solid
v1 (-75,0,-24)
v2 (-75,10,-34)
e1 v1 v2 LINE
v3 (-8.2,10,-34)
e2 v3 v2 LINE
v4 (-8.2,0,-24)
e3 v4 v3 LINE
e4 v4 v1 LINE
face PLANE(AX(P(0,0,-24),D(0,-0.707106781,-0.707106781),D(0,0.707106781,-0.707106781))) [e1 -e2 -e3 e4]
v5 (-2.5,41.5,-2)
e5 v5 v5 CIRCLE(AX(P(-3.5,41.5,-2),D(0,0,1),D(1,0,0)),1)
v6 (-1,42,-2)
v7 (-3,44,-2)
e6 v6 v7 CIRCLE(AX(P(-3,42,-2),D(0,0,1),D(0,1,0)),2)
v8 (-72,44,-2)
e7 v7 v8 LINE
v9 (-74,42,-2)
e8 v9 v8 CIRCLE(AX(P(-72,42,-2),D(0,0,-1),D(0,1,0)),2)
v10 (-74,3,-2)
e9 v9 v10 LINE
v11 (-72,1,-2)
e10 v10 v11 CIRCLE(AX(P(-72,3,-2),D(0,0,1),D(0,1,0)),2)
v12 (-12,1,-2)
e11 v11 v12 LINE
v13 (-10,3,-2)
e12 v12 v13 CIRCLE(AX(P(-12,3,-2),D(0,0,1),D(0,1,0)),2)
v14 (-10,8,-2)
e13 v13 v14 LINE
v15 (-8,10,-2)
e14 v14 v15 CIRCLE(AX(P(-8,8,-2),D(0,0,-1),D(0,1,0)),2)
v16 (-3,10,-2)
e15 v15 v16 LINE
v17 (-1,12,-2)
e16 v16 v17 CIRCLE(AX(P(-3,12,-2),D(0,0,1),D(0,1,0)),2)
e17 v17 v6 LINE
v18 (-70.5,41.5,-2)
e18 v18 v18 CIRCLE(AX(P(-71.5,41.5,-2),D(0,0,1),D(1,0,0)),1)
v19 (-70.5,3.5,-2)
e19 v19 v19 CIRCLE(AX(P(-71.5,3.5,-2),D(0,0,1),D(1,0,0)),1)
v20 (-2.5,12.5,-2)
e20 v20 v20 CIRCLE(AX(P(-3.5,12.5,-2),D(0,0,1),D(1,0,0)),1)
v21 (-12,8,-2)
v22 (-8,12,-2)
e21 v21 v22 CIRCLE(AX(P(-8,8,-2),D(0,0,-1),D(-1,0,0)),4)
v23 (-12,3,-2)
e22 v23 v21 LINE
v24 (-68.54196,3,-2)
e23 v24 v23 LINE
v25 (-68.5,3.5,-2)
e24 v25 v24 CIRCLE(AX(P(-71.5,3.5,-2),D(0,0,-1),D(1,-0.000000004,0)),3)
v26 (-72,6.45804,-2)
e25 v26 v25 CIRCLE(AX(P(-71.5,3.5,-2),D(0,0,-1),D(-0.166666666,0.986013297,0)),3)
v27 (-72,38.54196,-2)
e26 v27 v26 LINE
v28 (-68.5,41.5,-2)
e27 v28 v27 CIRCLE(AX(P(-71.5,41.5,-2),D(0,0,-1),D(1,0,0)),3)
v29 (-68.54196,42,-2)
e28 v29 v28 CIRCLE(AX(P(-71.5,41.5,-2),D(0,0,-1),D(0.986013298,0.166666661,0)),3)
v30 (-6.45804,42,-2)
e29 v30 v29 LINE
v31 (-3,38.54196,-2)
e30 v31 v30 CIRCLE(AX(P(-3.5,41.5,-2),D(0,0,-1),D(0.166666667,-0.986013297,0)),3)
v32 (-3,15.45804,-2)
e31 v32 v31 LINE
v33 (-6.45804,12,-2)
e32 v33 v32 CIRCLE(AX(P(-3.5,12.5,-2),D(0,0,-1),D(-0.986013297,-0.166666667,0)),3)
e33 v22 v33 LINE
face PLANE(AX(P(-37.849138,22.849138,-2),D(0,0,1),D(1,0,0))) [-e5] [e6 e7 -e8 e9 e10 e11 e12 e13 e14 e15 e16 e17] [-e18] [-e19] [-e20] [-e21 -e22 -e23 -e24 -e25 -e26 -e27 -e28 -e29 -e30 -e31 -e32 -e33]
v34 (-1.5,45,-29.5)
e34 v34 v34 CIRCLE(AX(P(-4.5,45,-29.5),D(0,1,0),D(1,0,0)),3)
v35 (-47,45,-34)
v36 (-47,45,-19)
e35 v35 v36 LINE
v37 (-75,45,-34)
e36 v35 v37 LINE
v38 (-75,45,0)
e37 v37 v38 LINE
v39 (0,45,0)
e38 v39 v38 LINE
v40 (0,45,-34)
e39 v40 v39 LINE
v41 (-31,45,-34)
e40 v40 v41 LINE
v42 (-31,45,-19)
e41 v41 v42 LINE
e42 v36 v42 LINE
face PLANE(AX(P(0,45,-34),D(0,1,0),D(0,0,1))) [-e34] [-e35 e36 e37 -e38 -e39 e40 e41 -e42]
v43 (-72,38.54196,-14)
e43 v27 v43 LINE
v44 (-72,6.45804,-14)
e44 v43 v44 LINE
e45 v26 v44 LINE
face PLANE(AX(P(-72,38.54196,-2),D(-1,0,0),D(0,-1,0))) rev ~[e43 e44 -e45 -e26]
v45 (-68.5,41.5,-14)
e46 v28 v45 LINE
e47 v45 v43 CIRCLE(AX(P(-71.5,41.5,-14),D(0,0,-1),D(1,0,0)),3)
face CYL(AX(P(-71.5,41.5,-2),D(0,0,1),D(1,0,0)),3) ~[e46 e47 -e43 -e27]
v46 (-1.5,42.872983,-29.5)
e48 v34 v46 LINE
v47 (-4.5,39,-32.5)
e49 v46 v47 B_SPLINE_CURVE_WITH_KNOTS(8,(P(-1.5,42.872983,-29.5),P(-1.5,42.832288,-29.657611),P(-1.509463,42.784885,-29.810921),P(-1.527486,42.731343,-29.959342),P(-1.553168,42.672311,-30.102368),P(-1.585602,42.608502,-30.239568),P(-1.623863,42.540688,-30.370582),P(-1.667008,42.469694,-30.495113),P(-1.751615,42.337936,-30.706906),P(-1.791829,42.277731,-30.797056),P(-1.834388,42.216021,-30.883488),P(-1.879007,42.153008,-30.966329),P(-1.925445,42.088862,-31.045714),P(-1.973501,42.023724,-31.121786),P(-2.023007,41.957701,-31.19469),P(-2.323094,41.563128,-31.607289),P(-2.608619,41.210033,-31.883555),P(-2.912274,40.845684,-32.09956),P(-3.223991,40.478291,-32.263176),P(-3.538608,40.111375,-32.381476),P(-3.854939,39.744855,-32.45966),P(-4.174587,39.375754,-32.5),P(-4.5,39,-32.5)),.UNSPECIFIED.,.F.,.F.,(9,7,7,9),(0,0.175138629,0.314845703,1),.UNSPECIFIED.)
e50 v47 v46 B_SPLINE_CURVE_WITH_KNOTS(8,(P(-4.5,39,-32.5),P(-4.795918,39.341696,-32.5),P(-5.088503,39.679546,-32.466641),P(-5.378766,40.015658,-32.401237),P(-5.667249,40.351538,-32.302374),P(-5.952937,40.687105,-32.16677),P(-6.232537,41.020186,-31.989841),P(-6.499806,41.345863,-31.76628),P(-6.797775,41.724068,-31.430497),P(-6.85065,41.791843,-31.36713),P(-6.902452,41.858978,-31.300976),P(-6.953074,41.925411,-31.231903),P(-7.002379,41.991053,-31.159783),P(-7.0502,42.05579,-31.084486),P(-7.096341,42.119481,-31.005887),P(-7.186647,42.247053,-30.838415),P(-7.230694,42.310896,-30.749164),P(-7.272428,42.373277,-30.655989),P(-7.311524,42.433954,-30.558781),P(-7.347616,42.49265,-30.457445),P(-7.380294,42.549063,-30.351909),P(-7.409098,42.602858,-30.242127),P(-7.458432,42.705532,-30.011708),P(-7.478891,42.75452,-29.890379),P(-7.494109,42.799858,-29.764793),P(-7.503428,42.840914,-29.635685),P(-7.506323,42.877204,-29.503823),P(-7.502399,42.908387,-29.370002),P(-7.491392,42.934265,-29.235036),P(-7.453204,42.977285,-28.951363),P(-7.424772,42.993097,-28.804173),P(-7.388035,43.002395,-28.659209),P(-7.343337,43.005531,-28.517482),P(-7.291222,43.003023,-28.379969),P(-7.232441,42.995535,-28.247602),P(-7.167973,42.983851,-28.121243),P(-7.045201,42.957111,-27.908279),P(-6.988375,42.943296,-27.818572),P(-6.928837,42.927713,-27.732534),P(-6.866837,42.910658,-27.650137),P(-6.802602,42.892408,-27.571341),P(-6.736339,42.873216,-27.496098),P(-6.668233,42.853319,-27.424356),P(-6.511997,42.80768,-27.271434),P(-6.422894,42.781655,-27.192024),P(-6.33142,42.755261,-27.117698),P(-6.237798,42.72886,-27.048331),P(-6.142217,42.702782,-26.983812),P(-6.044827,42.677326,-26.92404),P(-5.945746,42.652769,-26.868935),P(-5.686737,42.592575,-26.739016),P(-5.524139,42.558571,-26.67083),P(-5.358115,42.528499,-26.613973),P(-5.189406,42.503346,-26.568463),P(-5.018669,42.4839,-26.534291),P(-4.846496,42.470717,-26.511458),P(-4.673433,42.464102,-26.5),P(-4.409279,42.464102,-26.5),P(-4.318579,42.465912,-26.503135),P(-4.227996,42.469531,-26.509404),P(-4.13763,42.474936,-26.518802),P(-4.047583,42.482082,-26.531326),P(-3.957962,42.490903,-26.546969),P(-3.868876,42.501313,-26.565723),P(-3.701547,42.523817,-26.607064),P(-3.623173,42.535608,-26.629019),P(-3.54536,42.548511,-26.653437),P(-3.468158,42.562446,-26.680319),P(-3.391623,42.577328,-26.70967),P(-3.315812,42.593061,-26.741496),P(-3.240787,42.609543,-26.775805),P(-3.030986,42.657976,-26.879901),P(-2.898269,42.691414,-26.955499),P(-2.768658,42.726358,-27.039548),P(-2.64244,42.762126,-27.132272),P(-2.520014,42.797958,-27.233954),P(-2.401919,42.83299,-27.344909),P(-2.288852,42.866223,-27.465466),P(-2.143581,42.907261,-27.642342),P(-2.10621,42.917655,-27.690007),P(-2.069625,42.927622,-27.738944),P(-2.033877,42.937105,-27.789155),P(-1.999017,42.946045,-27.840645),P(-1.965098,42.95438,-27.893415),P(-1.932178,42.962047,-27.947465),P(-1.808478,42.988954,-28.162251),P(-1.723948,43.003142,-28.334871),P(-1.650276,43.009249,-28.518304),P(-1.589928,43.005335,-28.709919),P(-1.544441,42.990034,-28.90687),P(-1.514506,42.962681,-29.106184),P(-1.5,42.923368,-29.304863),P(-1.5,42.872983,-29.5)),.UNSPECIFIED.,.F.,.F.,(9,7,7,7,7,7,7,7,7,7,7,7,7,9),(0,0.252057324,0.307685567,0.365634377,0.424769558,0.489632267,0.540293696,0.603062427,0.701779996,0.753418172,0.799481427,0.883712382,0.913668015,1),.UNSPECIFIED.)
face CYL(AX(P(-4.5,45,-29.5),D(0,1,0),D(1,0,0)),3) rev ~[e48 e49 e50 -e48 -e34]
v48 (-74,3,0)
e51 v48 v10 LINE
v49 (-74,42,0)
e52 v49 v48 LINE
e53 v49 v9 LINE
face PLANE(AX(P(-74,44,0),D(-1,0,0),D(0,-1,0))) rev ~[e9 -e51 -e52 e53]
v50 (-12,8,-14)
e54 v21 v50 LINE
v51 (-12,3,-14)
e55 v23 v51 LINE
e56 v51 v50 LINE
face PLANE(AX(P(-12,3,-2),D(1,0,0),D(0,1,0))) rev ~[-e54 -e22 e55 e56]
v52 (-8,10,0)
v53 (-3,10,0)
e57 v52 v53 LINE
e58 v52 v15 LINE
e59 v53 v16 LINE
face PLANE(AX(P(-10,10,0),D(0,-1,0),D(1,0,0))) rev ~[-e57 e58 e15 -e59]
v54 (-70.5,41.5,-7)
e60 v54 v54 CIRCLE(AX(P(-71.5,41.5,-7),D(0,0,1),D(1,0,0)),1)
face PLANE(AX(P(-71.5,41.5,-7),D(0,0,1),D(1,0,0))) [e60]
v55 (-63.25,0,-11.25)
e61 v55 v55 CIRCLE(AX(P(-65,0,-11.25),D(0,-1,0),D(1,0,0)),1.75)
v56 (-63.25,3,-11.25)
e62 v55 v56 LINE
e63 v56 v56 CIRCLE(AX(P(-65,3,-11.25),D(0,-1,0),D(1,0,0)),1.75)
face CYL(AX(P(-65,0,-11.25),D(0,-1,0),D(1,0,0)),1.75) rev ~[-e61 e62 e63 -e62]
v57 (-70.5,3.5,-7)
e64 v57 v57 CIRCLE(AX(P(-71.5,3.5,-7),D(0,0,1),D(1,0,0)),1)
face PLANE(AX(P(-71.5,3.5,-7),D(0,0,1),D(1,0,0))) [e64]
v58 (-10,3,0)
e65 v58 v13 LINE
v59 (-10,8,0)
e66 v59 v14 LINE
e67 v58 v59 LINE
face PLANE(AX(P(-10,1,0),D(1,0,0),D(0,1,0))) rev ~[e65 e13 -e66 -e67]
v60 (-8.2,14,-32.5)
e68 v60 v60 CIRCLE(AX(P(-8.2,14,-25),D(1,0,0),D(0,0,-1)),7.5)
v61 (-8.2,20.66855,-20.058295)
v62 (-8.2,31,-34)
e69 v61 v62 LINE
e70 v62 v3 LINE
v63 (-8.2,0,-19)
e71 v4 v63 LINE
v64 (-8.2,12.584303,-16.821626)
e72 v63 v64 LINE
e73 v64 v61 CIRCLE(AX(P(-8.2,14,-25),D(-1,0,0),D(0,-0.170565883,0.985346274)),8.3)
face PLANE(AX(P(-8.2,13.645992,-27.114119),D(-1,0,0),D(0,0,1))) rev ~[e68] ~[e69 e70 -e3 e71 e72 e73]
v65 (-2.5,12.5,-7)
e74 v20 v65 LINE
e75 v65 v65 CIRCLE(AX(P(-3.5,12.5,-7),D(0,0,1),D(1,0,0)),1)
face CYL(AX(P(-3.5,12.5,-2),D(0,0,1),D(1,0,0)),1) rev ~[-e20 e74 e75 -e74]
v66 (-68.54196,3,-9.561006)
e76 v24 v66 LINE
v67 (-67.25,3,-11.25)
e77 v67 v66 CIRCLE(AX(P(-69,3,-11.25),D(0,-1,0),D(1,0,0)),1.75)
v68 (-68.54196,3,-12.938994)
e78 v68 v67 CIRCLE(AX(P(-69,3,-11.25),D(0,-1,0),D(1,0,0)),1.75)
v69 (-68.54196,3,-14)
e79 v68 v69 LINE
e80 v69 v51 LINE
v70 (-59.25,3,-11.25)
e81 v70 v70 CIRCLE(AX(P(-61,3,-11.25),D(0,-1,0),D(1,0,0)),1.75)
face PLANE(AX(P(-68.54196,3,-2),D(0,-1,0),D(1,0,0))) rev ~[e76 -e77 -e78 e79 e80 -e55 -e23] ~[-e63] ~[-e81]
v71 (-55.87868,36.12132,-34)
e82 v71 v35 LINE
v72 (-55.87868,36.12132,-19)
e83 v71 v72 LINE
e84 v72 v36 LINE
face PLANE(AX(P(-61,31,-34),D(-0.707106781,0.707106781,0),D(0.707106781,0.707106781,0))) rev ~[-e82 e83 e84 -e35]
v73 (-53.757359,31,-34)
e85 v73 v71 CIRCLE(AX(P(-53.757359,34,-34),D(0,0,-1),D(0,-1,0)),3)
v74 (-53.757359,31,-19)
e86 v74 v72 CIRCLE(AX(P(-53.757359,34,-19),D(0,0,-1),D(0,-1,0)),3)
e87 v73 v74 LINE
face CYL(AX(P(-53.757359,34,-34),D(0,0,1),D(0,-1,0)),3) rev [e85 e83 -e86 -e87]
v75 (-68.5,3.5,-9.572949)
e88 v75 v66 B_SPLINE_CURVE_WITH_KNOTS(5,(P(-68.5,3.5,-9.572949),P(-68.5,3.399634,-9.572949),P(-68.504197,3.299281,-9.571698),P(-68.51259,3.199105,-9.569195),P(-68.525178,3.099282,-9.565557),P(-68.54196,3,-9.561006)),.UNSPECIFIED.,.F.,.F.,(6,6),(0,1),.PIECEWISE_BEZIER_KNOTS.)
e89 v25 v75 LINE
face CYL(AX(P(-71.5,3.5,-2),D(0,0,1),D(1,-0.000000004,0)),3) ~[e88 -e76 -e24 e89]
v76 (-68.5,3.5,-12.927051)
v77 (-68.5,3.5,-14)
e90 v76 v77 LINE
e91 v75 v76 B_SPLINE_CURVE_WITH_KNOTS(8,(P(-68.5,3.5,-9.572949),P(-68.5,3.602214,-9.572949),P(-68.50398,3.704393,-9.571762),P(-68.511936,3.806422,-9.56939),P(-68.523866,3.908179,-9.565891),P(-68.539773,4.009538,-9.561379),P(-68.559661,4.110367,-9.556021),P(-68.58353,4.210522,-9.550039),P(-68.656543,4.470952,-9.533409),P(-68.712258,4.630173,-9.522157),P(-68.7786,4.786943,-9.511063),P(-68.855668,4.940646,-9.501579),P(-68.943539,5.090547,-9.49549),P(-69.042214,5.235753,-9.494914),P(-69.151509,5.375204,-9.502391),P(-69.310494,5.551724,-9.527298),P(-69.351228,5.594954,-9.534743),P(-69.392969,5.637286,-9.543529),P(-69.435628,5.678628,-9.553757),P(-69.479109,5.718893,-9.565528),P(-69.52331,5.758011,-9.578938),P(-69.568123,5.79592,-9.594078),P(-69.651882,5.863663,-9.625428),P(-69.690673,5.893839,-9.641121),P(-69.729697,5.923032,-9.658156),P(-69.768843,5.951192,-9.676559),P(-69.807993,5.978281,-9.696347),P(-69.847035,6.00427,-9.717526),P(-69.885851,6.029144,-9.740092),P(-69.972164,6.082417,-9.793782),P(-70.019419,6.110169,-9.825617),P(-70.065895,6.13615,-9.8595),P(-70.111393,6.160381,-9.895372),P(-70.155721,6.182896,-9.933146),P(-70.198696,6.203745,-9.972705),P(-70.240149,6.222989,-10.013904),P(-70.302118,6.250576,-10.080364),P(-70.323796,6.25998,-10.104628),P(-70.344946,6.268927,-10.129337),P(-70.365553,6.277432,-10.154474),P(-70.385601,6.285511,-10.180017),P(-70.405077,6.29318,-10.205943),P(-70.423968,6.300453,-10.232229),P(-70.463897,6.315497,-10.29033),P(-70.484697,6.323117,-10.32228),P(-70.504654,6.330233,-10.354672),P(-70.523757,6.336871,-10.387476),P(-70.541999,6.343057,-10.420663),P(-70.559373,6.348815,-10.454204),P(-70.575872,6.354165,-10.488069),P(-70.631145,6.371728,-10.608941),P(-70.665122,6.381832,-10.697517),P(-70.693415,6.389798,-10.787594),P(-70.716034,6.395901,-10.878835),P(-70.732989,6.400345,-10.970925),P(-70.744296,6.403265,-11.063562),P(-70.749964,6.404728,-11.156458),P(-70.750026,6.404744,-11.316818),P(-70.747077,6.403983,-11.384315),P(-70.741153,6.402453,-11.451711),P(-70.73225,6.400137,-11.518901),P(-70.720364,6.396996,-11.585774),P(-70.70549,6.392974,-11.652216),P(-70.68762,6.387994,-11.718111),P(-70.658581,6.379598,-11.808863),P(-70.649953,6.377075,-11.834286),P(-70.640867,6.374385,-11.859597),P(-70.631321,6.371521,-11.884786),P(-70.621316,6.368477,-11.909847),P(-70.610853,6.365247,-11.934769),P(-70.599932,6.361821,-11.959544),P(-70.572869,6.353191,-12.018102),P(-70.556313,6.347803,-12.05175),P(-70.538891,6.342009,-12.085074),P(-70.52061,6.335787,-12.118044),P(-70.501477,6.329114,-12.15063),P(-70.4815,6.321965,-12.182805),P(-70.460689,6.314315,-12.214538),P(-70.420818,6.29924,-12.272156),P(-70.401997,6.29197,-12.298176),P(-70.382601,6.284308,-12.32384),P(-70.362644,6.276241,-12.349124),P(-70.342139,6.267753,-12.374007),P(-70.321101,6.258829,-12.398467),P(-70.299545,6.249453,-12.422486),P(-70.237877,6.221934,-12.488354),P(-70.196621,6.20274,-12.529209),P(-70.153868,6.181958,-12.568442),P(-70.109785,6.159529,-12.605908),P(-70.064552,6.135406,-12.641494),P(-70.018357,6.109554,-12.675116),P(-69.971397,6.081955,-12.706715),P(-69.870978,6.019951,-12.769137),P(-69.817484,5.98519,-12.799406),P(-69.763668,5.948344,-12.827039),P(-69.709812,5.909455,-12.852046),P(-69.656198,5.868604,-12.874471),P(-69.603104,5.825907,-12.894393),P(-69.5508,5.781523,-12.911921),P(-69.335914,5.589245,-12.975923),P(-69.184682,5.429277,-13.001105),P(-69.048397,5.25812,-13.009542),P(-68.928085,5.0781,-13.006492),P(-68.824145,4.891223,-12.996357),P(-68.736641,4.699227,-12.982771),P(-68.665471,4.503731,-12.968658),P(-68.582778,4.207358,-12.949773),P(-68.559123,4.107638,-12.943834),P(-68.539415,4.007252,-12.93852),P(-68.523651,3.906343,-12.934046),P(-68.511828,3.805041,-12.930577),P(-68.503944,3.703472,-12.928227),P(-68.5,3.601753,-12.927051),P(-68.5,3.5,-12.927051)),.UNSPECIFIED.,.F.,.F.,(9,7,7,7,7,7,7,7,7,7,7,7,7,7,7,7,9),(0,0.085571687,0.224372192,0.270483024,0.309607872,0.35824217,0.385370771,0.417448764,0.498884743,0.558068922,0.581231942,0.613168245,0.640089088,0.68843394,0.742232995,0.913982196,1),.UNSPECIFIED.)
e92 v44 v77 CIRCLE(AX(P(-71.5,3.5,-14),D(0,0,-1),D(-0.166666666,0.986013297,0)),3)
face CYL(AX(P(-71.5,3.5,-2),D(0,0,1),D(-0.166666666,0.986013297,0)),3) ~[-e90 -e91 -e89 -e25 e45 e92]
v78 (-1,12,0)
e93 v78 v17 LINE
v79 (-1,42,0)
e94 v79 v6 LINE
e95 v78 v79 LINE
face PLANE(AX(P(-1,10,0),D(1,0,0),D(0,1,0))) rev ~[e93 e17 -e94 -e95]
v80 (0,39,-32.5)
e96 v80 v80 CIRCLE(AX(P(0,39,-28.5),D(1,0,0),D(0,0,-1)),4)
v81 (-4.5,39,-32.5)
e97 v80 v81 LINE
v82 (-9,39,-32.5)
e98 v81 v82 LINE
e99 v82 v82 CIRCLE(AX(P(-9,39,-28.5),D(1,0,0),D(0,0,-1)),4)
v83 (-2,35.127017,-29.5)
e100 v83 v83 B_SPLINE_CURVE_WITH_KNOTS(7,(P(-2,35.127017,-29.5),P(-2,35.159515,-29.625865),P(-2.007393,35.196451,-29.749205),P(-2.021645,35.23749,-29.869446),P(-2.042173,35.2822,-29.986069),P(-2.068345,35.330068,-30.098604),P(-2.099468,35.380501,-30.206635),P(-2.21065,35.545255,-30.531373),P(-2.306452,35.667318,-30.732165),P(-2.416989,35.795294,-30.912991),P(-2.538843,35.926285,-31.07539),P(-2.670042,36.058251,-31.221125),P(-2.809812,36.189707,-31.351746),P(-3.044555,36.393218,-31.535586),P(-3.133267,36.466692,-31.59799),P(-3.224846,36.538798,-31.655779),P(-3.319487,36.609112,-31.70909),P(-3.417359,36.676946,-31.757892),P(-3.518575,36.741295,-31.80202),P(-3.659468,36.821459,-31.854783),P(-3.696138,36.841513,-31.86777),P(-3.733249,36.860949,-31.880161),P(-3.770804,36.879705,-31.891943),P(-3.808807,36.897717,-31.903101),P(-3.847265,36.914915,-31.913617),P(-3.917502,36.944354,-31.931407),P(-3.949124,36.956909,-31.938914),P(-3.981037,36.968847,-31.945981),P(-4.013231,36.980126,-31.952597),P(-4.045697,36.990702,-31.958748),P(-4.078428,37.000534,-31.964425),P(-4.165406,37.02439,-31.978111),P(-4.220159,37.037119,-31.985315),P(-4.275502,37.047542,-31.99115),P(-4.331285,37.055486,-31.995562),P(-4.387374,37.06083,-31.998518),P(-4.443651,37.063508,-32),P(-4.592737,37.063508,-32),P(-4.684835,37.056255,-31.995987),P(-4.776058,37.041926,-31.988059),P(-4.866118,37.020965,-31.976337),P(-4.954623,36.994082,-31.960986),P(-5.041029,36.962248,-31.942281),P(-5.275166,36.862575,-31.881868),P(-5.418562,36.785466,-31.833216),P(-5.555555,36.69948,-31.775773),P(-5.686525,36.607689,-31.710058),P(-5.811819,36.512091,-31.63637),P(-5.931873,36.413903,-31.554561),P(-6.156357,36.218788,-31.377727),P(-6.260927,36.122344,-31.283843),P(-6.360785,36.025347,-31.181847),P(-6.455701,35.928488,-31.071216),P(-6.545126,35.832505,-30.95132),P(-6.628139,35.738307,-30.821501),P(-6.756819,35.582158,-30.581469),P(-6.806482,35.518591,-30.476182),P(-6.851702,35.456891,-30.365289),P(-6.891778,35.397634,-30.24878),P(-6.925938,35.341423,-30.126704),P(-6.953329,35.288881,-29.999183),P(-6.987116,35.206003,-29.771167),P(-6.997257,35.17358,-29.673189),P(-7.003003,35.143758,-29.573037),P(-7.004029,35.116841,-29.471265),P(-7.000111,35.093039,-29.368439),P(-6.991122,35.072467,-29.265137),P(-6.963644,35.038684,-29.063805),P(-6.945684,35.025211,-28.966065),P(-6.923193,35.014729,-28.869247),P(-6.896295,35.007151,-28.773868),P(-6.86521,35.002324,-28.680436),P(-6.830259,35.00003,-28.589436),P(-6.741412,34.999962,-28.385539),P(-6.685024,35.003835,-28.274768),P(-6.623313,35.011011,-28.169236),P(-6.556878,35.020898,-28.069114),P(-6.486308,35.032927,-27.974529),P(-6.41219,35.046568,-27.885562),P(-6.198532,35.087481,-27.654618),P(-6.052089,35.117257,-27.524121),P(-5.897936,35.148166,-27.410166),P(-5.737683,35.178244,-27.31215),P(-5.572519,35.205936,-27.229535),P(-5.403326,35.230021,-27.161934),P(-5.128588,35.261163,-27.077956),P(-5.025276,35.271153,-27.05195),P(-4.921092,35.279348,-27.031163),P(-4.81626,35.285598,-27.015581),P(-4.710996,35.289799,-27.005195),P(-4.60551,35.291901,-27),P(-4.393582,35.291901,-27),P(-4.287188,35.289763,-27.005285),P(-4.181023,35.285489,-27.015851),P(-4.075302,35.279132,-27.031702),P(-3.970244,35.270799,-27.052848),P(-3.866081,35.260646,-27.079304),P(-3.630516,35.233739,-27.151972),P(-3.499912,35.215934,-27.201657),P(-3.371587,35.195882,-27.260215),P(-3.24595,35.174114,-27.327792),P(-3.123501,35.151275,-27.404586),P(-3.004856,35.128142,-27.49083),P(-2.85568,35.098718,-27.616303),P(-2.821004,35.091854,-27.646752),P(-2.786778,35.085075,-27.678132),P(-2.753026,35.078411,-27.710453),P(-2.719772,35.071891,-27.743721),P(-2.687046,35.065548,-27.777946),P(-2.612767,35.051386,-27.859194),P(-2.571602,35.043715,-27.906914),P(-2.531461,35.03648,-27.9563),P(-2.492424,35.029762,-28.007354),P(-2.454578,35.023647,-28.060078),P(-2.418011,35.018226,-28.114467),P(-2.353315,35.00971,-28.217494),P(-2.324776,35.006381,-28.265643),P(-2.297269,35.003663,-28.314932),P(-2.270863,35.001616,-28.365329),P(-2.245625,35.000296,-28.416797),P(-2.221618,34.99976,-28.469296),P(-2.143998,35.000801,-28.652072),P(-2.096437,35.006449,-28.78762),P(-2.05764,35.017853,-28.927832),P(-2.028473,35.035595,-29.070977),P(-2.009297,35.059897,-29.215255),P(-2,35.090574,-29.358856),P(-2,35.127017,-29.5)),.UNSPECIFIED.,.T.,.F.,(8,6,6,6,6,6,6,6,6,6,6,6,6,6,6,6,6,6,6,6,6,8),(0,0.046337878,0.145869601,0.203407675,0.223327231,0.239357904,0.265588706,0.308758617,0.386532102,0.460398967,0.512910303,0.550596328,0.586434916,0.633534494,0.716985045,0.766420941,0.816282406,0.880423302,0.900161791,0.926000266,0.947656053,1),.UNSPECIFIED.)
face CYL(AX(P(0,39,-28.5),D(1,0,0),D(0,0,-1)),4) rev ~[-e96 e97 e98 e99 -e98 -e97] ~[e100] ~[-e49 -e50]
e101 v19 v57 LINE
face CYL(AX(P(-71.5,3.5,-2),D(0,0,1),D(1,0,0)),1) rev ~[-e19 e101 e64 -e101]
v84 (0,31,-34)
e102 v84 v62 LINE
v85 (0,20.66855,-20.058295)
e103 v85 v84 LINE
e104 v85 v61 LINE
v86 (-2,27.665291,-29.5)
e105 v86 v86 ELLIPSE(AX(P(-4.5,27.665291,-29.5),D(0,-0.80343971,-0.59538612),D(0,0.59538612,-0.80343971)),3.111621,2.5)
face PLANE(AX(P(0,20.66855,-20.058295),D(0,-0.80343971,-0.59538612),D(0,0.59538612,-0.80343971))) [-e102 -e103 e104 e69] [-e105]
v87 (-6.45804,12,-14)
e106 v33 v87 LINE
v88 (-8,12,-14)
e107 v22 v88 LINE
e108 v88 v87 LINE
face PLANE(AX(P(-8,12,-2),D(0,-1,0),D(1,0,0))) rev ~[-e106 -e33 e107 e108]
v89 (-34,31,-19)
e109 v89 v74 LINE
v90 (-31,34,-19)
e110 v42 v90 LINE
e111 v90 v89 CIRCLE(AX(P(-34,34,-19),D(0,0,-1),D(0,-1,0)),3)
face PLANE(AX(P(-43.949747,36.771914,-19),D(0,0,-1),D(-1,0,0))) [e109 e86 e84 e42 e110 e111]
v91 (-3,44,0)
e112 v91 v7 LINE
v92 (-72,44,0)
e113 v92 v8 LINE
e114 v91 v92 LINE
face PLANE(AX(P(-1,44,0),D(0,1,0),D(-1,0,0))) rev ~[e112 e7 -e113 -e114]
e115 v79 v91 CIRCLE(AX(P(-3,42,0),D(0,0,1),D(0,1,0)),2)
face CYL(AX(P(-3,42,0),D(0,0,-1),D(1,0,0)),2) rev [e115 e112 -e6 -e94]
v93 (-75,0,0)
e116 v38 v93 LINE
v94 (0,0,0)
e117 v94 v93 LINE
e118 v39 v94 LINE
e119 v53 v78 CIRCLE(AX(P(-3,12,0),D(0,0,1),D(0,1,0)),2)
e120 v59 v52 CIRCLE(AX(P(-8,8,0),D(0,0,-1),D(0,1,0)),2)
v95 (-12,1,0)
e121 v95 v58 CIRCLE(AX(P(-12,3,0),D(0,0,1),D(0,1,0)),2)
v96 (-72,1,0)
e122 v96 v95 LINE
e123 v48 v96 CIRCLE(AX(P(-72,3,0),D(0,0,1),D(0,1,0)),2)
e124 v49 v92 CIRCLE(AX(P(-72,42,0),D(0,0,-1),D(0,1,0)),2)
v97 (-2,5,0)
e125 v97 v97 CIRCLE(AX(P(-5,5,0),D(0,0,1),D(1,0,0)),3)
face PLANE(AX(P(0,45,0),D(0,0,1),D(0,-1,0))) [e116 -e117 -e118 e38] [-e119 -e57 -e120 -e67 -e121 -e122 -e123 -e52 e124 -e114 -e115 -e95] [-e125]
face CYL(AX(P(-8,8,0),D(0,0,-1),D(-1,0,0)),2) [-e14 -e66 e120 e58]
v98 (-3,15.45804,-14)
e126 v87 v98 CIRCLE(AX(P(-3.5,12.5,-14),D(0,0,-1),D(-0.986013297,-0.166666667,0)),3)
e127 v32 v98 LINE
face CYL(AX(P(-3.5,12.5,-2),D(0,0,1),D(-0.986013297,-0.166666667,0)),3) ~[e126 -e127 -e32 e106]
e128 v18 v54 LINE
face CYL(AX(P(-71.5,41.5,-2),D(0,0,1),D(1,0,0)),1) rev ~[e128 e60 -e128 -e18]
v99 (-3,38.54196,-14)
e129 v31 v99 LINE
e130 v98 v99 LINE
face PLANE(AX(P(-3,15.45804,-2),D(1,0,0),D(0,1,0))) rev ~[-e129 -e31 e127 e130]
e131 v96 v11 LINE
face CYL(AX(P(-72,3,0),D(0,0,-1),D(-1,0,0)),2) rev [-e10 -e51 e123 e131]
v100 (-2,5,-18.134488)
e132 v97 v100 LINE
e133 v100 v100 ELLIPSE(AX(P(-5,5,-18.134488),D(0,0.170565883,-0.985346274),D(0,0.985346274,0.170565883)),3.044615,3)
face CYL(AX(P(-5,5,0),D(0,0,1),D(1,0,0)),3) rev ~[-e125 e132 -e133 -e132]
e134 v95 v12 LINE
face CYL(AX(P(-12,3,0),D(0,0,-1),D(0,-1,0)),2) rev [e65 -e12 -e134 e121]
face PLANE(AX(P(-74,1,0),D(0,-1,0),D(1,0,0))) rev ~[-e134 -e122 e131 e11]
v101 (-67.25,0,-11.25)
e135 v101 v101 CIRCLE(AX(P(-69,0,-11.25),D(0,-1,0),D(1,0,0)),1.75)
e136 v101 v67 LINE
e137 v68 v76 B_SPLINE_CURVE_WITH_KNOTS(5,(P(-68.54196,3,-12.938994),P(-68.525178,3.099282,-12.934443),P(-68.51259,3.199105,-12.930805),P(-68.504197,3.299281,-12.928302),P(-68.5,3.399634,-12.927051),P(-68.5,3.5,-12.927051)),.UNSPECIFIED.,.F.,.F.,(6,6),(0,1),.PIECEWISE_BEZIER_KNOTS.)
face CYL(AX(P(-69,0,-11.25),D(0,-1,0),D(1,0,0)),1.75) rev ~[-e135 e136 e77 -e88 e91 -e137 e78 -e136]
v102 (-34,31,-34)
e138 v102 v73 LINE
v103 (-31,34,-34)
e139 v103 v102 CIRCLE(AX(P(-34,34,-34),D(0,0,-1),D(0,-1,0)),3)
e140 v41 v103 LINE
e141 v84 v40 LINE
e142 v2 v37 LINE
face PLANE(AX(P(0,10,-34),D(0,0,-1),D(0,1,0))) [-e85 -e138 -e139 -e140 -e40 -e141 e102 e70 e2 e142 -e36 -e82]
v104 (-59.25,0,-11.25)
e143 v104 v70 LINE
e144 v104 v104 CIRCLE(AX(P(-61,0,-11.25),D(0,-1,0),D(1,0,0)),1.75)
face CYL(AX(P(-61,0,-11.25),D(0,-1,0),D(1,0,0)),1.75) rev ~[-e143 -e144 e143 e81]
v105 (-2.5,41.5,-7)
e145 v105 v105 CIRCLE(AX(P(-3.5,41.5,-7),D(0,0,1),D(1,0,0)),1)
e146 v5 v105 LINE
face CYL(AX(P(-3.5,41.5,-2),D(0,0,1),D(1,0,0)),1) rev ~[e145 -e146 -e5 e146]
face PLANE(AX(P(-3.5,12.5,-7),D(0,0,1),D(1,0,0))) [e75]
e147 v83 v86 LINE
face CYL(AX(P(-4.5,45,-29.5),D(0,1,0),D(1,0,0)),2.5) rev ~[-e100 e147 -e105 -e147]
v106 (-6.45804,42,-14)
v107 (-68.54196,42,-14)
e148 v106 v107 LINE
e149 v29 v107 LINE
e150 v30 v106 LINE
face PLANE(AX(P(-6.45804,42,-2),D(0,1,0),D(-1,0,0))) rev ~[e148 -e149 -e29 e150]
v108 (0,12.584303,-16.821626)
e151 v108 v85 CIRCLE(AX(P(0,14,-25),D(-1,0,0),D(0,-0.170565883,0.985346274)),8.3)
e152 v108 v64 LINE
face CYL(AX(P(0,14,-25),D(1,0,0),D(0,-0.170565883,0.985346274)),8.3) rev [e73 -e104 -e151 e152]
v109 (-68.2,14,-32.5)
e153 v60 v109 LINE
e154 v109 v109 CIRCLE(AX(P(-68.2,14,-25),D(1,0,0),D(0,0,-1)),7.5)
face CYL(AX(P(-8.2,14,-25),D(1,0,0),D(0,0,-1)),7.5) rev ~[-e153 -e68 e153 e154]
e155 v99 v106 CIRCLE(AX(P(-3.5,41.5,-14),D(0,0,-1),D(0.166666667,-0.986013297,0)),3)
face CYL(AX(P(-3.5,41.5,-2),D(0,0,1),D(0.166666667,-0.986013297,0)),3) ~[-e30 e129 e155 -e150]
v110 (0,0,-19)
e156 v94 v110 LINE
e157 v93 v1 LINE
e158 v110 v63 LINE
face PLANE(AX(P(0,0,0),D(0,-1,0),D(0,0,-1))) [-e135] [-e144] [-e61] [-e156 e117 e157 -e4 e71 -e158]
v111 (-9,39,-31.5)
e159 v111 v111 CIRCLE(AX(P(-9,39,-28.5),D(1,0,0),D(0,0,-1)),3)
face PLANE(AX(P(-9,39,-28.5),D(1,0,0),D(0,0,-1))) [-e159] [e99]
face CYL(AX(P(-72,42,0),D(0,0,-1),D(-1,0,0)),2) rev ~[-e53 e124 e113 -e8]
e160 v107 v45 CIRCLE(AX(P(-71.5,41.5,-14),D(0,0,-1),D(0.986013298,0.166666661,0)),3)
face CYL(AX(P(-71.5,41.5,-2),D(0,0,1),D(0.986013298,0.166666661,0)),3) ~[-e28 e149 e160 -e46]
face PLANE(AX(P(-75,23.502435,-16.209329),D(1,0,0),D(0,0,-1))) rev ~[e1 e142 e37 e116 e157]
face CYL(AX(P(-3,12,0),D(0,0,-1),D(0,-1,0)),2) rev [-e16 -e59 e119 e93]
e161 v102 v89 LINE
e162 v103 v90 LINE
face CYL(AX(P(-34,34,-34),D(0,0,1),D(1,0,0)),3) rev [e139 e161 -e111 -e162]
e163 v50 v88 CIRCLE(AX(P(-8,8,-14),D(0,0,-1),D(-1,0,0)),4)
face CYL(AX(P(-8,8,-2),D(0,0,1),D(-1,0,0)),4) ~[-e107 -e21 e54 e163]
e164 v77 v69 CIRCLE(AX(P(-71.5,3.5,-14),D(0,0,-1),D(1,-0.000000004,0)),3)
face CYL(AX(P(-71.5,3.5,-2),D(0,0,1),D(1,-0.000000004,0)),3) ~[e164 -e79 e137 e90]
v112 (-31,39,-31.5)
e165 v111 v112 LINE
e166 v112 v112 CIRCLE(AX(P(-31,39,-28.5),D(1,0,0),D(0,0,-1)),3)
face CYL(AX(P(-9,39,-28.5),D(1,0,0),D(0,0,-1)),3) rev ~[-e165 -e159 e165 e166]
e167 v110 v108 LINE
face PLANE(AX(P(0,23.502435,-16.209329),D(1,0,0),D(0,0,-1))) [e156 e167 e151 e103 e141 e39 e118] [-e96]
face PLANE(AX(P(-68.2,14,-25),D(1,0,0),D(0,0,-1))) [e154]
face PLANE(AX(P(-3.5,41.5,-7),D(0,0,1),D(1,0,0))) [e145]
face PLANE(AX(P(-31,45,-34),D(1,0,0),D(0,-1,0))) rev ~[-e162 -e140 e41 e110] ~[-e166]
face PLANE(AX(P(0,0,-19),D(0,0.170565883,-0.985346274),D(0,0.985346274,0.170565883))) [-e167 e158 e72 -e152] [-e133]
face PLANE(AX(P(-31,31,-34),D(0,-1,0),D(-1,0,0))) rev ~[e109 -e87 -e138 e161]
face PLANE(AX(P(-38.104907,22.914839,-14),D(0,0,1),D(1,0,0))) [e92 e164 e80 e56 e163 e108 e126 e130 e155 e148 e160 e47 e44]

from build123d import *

# Parameters (mm, degrees)
BOSS_EXTRUDE1_DEPTH = 75
CUT_EXTRUDE1_DEPTH  = 8.2
CUT_EXTRUDE2_DEPTH  = 15
FILLET1_R           = 3
SKETCH5_R           = 4
CUT_EXTRUDE3_DEPTH  = 9
CUT_EXTRUDE4_REACH  = 47
SKETCH6_R           = 3
CUT_EXTRUDE5_REACH  = 36
SKETCH7_R           = 3
CUT_EXTRUDE7_REACH  = 47
SKETCH10_R          = 2.5
CUT_EXTRUDE8_REACH  = 68
SKETCH11_R          = 3
CUT_EXTRUDE10_DEPTH = 2
FILLET3_R           = 2
CUT_EXTRUDE11_DEPTH = 12
CUT_EXTRUDE12_REACH = 47
SKETCH16_R          = 1.75
SKETCH17_R          = 1
CUT_EXTRUDE13_DEPTH = 5
SKETCH8_R           = 7.5
CUT_EXTRUDE14_DEPTH = 60


with BuildPart() as part:
    # Sketch1 → Boss-Extrude1 (new body)
    with BuildSketch(Plane(origin=(0, 0, 0), x_dir=(0, 0, -1), z_dir=(1, 0, 0))):
        Polygon((24, 0), (34, 10), (34, 45), (0, 45), (0, 0), align=None)
    extrude(amount=-BOSS_EXTRUDE1_DEPTH)

    # Sketch2 → Cut-Extrude1 (cut)
    with BuildSketch(Plane(origin=(0, 0, 0), x_dir=(0, 0, -1), z_dir=(1, 0, 0))):
        with BuildLine():
            Line((19, 0), (16.821625926, 12.584303175))
            ThreePointArc((16.821625926, 12.584303175), (17.294620228, 17.084983398), (20.058295206, 20.668549597))
            Line((20.058295206, 20.668549597), (34, 31))
            Line((34, 31), (34, 0))
            Line((34, 0), (19, 0))
        make_face()
    extrude(amount=-CUT_EXTRUDE1_DEPTH, mode=Mode.SUBTRACT)

    # Sketch3 → Cut-Extrude2 (cut)
    with BuildSketch(Plane(origin=(0, 0, -34), x_dir=(-1, 0, 0), z_dir=(0, 0, -1))):
        Polygon((31, 45), (31, 31), (61, 31), (47, 45), align=None)
    extrude(amount=-CUT_EXTRUDE2_DEPTH, mode=Mode.SUBTRACT)

    # Fillet1
    fillet1_edges = [part.edges().sort_by_distance(p)[0] for p in [
        (-61, 31, -26.5),
        (-31, 31, -26.5),
    ]]
    fillet(fillet1_edges, radius=FILLET1_R)

    # Sketch5 → Cut-Extrude3 (cut)
    with BuildSketch(Plane(origin=(0, 0, 0), x_dir=(0, 0, -1), z_dir=(1, 0, 0))):
        with Locations((28.5, 39)):
            Circle(SKETCH5_R)
    extrude(amount=-CUT_EXTRUDE3_DEPTH, mode=Mode.SUBTRACT)

    # Sketch6 → Cut-Extrude4 (cut, up to next)
    with BuildSketch(Plane(origin=(0, 45, 0), x_dir=(1, 0, 0), z_dir=(0, 1, 0)), mode=Mode.PRIVATE) as cut_extrude4_sk1:
        with Locations((-4.5, 29.5)):
            Circle(SKETCH6_R)
    cut_extrude4_tool1 = extrude(cut_extrude4_sk1.sketch, amount=-CUT_EXTRUDE4_REACH, mode=Mode.PRIVATE) & part.part
    add(cut_extrude4_tool1.solids().sort_by_distance((-4.5, 45, -29.5))[0], mode=Mode.SUBTRACT)

    # Sketch7 → Cut-Extrude5 (cut, up to next)
    with BuildSketch(Plane.XY, mode=Mode.PRIVATE) as cut_extrude5_sk1:
        with Locations((-5, 5)):
            Circle(SKETCH7_R)
    cut_extrude5_tool1 = extrude(cut_extrude5_sk1.sketch, amount=-CUT_EXTRUDE5_REACH, mode=Mode.PRIVATE) & part.part
    add(cut_extrude5_tool1.solids().sort_by_distance((-5, 5, 0))[0], mode=Mode.SUBTRACT)

    # Sketch10 → Cut-Extrude7 (cut, up to next)
    with BuildSketch(Plane(origin=(0, 45, 0), x_dir=(1, 0, 0), z_dir=(0, 1, 0)), mode=Mode.PRIVATE) as cut_extrude7_sk1:
        with Locations((-4.5, 29.5)):
            Circle(SKETCH10_R)
    cut_extrude7_tool1 = extrude(cut_extrude7_sk1.sketch, amount=-CUT_EXTRUDE7_REACH, mode=Mode.PRIVATE) & part.part
    add(cut_extrude7_tool1.solids().sort_by_distance((-4.5, 45, -29.5))[0], mode=Mode.SUBTRACT)

    # Sketch11 → Cut-Extrude8 (cut, up to next)
    with BuildSketch(Plane(origin=(-9, 0, 0), x_dir=(0, 0, -1), z_dir=(1, 0, 0)), mode=Mode.PRIVATE) as cut_extrude8_sk1:
        with Locations((28.5, 39)):
            Circle(SKETCH11_R)
    cut_extrude8_tool1 = extrude(cut_extrude8_sk1.sketch, amount=-CUT_EXTRUDE8_REACH, mode=Mode.PRIVATE) & part.part
    add(cut_extrude8_tool1.solids().sort_by_distance((-9, 39, -28.5))[0], mode=Mode.SUBTRACT)

    # Sketch13 → Cut-Extrude10 (cut)
    with BuildSketch(Plane.XY):
        Polygon((-74, 44), (-74, 1), (-10, 1), (-10, 10), (-1, 10), (-1, 44), align=None)
    extrude(amount=-CUT_EXTRUDE10_DEPTH, mode=Mode.SUBTRACT)

    # Fillet3
    fillet3_edges = [part.edges().sort_by_distance(p)[0] for p in [
        (-74, 44, -1),
        (-1, 44, -1),
        (-1, 10, -1),
        (-10, 10, -1),
        (-10, 1, -1),
        (-74, 1, -1),
    ]]
    fillet(fillet3_edges, radius=FILLET3_R)

    # Sketch14 → Cut-Extrude11 (cut)
    with BuildSketch(Plane.XY.offset(-2)):
        with BuildLine():
            ThreePointArc((-6.458039892, 12), (-5.621320344, 14.621320344), (-3, 15.458039892))
            Line((-3, 15.458039892), (-3, 38.541960108))
            ThreePointArc((-3, 38.541960108), (-5.621320344, 39.378679656), (-6.458039892, 42))
            Line((-6.458039892, 42), (-68.541960108, 42))
            ThreePointArc((-68.541960108, 42), (-68.510508432, 41.750878781), (-68.5, 41.5))
            ThreePointArc((-68.5, 41.5), (-69.563508327, 39.208712153), (-72, 38.541960108))
            Line((-72, 38.541960108), (-72, 6.458039892))
            ThreePointArc((-72, 6.458039892), (-69.563508327, 5.791287847), (-68.5, 3.5))
            ThreePointArc((-68.5, 3.5), (-68.510508432, 3.249121219), (-68.541960108, 3))
            Line((-68.541960108, 3), (-12, 3))
            Line((-12, 3), (-12, 8))
            ThreePointArc((-12, 8), (-10.828427125, 10.828427125), (-8, 12))
            Line((-8, 12), (-6.458039892, 12))
        make_face()
    extrude(amount=-CUT_EXTRUDE11_DEPTH, mode=Mode.SUBTRACT)

    # Sketch16 → Cut-Extrude12 (cut, up to next)
    with BuildSketch(Plane.XZ, mode=Mode.PRIVATE) as cut_extrude12_sk1:
        with Locations((-69, -11.25)):
            Circle(SKETCH16_R)
    cut_extrude12_tool1 = extrude(cut_extrude12_sk1.sketch, amount=-CUT_EXTRUDE12_REACH, mode=Mode.PRIVATE) & part.part
    add(cut_extrude12_tool1.solids().sort_by_distance((-69, 0, -11.25))[0], mode=Mode.SUBTRACT)
    # Sketch16 → Cut-Extrude12 (cut, up to next)
    with BuildSketch(Plane.XZ, mode=Mode.PRIVATE) as cut_extrude12_sk2:
        with Locations((-65, -11.25)):
            Circle(SKETCH16_R)
    cut_extrude12_tool2 = extrude(cut_extrude12_sk2.sketch, amount=-CUT_EXTRUDE12_REACH, mode=Mode.PRIVATE) & part.part
    add(cut_extrude12_tool2.solids().sort_by_distance((-65, 0, -11.25))[0], mode=Mode.SUBTRACT)
    # Sketch16 → Cut-Extrude12 (cut, up to next)
    with BuildSketch(Plane.XZ, mode=Mode.PRIVATE) as cut_extrude12_sk3:
        with Locations((-61, -11.25)):
            Circle(SKETCH16_R)
    cut_extrude12_tool3 = extrude(cut_extrude12_sk3.sketch, amount=-CUT_EXTRUDE12_REACH, mode=Mode.PRIVATE) & part.part
    add(cut_extrude12_tool3.solids().sort_by_distance((-61, 0, -11.25))[0], mode=Mode.SUBTRACT)

    # Sketch17 → Cut-Extrude13 (cut)
    with BuildSketch(Plane.XY.offset(-2)):
        with Locations((-71.5, 41.5)):
            Circle(SKETCH17_R)
        with Locations((-71.5, 3.5)):
            Circle(SKETCH17_R)
        with Locations((-3.5, 12.5)):
            Circle(SKETCH17_R)
        with Locations((-3.5, 41.5)):
            Circle(SKETCH17_R)
    extrude(amount=-CUT_EXTRUDE13_DEPTH, mode=Mode.SUBTRACT)

    # Sketch8 → Cut-Extrude14 (cut)
    with BuildSketch(Plane(origin=(-8.2, 0, 0), x_dir=(0, 0, -1), z_dir=(1, 0, 0))):
        with Locations((25, 14)):
            Circle(SKETCH8_R)
    extrude(amount=-CUT_EXTRUDE14_DEPTH, mode=Mode.SUBTRACT)


solid = part.part
